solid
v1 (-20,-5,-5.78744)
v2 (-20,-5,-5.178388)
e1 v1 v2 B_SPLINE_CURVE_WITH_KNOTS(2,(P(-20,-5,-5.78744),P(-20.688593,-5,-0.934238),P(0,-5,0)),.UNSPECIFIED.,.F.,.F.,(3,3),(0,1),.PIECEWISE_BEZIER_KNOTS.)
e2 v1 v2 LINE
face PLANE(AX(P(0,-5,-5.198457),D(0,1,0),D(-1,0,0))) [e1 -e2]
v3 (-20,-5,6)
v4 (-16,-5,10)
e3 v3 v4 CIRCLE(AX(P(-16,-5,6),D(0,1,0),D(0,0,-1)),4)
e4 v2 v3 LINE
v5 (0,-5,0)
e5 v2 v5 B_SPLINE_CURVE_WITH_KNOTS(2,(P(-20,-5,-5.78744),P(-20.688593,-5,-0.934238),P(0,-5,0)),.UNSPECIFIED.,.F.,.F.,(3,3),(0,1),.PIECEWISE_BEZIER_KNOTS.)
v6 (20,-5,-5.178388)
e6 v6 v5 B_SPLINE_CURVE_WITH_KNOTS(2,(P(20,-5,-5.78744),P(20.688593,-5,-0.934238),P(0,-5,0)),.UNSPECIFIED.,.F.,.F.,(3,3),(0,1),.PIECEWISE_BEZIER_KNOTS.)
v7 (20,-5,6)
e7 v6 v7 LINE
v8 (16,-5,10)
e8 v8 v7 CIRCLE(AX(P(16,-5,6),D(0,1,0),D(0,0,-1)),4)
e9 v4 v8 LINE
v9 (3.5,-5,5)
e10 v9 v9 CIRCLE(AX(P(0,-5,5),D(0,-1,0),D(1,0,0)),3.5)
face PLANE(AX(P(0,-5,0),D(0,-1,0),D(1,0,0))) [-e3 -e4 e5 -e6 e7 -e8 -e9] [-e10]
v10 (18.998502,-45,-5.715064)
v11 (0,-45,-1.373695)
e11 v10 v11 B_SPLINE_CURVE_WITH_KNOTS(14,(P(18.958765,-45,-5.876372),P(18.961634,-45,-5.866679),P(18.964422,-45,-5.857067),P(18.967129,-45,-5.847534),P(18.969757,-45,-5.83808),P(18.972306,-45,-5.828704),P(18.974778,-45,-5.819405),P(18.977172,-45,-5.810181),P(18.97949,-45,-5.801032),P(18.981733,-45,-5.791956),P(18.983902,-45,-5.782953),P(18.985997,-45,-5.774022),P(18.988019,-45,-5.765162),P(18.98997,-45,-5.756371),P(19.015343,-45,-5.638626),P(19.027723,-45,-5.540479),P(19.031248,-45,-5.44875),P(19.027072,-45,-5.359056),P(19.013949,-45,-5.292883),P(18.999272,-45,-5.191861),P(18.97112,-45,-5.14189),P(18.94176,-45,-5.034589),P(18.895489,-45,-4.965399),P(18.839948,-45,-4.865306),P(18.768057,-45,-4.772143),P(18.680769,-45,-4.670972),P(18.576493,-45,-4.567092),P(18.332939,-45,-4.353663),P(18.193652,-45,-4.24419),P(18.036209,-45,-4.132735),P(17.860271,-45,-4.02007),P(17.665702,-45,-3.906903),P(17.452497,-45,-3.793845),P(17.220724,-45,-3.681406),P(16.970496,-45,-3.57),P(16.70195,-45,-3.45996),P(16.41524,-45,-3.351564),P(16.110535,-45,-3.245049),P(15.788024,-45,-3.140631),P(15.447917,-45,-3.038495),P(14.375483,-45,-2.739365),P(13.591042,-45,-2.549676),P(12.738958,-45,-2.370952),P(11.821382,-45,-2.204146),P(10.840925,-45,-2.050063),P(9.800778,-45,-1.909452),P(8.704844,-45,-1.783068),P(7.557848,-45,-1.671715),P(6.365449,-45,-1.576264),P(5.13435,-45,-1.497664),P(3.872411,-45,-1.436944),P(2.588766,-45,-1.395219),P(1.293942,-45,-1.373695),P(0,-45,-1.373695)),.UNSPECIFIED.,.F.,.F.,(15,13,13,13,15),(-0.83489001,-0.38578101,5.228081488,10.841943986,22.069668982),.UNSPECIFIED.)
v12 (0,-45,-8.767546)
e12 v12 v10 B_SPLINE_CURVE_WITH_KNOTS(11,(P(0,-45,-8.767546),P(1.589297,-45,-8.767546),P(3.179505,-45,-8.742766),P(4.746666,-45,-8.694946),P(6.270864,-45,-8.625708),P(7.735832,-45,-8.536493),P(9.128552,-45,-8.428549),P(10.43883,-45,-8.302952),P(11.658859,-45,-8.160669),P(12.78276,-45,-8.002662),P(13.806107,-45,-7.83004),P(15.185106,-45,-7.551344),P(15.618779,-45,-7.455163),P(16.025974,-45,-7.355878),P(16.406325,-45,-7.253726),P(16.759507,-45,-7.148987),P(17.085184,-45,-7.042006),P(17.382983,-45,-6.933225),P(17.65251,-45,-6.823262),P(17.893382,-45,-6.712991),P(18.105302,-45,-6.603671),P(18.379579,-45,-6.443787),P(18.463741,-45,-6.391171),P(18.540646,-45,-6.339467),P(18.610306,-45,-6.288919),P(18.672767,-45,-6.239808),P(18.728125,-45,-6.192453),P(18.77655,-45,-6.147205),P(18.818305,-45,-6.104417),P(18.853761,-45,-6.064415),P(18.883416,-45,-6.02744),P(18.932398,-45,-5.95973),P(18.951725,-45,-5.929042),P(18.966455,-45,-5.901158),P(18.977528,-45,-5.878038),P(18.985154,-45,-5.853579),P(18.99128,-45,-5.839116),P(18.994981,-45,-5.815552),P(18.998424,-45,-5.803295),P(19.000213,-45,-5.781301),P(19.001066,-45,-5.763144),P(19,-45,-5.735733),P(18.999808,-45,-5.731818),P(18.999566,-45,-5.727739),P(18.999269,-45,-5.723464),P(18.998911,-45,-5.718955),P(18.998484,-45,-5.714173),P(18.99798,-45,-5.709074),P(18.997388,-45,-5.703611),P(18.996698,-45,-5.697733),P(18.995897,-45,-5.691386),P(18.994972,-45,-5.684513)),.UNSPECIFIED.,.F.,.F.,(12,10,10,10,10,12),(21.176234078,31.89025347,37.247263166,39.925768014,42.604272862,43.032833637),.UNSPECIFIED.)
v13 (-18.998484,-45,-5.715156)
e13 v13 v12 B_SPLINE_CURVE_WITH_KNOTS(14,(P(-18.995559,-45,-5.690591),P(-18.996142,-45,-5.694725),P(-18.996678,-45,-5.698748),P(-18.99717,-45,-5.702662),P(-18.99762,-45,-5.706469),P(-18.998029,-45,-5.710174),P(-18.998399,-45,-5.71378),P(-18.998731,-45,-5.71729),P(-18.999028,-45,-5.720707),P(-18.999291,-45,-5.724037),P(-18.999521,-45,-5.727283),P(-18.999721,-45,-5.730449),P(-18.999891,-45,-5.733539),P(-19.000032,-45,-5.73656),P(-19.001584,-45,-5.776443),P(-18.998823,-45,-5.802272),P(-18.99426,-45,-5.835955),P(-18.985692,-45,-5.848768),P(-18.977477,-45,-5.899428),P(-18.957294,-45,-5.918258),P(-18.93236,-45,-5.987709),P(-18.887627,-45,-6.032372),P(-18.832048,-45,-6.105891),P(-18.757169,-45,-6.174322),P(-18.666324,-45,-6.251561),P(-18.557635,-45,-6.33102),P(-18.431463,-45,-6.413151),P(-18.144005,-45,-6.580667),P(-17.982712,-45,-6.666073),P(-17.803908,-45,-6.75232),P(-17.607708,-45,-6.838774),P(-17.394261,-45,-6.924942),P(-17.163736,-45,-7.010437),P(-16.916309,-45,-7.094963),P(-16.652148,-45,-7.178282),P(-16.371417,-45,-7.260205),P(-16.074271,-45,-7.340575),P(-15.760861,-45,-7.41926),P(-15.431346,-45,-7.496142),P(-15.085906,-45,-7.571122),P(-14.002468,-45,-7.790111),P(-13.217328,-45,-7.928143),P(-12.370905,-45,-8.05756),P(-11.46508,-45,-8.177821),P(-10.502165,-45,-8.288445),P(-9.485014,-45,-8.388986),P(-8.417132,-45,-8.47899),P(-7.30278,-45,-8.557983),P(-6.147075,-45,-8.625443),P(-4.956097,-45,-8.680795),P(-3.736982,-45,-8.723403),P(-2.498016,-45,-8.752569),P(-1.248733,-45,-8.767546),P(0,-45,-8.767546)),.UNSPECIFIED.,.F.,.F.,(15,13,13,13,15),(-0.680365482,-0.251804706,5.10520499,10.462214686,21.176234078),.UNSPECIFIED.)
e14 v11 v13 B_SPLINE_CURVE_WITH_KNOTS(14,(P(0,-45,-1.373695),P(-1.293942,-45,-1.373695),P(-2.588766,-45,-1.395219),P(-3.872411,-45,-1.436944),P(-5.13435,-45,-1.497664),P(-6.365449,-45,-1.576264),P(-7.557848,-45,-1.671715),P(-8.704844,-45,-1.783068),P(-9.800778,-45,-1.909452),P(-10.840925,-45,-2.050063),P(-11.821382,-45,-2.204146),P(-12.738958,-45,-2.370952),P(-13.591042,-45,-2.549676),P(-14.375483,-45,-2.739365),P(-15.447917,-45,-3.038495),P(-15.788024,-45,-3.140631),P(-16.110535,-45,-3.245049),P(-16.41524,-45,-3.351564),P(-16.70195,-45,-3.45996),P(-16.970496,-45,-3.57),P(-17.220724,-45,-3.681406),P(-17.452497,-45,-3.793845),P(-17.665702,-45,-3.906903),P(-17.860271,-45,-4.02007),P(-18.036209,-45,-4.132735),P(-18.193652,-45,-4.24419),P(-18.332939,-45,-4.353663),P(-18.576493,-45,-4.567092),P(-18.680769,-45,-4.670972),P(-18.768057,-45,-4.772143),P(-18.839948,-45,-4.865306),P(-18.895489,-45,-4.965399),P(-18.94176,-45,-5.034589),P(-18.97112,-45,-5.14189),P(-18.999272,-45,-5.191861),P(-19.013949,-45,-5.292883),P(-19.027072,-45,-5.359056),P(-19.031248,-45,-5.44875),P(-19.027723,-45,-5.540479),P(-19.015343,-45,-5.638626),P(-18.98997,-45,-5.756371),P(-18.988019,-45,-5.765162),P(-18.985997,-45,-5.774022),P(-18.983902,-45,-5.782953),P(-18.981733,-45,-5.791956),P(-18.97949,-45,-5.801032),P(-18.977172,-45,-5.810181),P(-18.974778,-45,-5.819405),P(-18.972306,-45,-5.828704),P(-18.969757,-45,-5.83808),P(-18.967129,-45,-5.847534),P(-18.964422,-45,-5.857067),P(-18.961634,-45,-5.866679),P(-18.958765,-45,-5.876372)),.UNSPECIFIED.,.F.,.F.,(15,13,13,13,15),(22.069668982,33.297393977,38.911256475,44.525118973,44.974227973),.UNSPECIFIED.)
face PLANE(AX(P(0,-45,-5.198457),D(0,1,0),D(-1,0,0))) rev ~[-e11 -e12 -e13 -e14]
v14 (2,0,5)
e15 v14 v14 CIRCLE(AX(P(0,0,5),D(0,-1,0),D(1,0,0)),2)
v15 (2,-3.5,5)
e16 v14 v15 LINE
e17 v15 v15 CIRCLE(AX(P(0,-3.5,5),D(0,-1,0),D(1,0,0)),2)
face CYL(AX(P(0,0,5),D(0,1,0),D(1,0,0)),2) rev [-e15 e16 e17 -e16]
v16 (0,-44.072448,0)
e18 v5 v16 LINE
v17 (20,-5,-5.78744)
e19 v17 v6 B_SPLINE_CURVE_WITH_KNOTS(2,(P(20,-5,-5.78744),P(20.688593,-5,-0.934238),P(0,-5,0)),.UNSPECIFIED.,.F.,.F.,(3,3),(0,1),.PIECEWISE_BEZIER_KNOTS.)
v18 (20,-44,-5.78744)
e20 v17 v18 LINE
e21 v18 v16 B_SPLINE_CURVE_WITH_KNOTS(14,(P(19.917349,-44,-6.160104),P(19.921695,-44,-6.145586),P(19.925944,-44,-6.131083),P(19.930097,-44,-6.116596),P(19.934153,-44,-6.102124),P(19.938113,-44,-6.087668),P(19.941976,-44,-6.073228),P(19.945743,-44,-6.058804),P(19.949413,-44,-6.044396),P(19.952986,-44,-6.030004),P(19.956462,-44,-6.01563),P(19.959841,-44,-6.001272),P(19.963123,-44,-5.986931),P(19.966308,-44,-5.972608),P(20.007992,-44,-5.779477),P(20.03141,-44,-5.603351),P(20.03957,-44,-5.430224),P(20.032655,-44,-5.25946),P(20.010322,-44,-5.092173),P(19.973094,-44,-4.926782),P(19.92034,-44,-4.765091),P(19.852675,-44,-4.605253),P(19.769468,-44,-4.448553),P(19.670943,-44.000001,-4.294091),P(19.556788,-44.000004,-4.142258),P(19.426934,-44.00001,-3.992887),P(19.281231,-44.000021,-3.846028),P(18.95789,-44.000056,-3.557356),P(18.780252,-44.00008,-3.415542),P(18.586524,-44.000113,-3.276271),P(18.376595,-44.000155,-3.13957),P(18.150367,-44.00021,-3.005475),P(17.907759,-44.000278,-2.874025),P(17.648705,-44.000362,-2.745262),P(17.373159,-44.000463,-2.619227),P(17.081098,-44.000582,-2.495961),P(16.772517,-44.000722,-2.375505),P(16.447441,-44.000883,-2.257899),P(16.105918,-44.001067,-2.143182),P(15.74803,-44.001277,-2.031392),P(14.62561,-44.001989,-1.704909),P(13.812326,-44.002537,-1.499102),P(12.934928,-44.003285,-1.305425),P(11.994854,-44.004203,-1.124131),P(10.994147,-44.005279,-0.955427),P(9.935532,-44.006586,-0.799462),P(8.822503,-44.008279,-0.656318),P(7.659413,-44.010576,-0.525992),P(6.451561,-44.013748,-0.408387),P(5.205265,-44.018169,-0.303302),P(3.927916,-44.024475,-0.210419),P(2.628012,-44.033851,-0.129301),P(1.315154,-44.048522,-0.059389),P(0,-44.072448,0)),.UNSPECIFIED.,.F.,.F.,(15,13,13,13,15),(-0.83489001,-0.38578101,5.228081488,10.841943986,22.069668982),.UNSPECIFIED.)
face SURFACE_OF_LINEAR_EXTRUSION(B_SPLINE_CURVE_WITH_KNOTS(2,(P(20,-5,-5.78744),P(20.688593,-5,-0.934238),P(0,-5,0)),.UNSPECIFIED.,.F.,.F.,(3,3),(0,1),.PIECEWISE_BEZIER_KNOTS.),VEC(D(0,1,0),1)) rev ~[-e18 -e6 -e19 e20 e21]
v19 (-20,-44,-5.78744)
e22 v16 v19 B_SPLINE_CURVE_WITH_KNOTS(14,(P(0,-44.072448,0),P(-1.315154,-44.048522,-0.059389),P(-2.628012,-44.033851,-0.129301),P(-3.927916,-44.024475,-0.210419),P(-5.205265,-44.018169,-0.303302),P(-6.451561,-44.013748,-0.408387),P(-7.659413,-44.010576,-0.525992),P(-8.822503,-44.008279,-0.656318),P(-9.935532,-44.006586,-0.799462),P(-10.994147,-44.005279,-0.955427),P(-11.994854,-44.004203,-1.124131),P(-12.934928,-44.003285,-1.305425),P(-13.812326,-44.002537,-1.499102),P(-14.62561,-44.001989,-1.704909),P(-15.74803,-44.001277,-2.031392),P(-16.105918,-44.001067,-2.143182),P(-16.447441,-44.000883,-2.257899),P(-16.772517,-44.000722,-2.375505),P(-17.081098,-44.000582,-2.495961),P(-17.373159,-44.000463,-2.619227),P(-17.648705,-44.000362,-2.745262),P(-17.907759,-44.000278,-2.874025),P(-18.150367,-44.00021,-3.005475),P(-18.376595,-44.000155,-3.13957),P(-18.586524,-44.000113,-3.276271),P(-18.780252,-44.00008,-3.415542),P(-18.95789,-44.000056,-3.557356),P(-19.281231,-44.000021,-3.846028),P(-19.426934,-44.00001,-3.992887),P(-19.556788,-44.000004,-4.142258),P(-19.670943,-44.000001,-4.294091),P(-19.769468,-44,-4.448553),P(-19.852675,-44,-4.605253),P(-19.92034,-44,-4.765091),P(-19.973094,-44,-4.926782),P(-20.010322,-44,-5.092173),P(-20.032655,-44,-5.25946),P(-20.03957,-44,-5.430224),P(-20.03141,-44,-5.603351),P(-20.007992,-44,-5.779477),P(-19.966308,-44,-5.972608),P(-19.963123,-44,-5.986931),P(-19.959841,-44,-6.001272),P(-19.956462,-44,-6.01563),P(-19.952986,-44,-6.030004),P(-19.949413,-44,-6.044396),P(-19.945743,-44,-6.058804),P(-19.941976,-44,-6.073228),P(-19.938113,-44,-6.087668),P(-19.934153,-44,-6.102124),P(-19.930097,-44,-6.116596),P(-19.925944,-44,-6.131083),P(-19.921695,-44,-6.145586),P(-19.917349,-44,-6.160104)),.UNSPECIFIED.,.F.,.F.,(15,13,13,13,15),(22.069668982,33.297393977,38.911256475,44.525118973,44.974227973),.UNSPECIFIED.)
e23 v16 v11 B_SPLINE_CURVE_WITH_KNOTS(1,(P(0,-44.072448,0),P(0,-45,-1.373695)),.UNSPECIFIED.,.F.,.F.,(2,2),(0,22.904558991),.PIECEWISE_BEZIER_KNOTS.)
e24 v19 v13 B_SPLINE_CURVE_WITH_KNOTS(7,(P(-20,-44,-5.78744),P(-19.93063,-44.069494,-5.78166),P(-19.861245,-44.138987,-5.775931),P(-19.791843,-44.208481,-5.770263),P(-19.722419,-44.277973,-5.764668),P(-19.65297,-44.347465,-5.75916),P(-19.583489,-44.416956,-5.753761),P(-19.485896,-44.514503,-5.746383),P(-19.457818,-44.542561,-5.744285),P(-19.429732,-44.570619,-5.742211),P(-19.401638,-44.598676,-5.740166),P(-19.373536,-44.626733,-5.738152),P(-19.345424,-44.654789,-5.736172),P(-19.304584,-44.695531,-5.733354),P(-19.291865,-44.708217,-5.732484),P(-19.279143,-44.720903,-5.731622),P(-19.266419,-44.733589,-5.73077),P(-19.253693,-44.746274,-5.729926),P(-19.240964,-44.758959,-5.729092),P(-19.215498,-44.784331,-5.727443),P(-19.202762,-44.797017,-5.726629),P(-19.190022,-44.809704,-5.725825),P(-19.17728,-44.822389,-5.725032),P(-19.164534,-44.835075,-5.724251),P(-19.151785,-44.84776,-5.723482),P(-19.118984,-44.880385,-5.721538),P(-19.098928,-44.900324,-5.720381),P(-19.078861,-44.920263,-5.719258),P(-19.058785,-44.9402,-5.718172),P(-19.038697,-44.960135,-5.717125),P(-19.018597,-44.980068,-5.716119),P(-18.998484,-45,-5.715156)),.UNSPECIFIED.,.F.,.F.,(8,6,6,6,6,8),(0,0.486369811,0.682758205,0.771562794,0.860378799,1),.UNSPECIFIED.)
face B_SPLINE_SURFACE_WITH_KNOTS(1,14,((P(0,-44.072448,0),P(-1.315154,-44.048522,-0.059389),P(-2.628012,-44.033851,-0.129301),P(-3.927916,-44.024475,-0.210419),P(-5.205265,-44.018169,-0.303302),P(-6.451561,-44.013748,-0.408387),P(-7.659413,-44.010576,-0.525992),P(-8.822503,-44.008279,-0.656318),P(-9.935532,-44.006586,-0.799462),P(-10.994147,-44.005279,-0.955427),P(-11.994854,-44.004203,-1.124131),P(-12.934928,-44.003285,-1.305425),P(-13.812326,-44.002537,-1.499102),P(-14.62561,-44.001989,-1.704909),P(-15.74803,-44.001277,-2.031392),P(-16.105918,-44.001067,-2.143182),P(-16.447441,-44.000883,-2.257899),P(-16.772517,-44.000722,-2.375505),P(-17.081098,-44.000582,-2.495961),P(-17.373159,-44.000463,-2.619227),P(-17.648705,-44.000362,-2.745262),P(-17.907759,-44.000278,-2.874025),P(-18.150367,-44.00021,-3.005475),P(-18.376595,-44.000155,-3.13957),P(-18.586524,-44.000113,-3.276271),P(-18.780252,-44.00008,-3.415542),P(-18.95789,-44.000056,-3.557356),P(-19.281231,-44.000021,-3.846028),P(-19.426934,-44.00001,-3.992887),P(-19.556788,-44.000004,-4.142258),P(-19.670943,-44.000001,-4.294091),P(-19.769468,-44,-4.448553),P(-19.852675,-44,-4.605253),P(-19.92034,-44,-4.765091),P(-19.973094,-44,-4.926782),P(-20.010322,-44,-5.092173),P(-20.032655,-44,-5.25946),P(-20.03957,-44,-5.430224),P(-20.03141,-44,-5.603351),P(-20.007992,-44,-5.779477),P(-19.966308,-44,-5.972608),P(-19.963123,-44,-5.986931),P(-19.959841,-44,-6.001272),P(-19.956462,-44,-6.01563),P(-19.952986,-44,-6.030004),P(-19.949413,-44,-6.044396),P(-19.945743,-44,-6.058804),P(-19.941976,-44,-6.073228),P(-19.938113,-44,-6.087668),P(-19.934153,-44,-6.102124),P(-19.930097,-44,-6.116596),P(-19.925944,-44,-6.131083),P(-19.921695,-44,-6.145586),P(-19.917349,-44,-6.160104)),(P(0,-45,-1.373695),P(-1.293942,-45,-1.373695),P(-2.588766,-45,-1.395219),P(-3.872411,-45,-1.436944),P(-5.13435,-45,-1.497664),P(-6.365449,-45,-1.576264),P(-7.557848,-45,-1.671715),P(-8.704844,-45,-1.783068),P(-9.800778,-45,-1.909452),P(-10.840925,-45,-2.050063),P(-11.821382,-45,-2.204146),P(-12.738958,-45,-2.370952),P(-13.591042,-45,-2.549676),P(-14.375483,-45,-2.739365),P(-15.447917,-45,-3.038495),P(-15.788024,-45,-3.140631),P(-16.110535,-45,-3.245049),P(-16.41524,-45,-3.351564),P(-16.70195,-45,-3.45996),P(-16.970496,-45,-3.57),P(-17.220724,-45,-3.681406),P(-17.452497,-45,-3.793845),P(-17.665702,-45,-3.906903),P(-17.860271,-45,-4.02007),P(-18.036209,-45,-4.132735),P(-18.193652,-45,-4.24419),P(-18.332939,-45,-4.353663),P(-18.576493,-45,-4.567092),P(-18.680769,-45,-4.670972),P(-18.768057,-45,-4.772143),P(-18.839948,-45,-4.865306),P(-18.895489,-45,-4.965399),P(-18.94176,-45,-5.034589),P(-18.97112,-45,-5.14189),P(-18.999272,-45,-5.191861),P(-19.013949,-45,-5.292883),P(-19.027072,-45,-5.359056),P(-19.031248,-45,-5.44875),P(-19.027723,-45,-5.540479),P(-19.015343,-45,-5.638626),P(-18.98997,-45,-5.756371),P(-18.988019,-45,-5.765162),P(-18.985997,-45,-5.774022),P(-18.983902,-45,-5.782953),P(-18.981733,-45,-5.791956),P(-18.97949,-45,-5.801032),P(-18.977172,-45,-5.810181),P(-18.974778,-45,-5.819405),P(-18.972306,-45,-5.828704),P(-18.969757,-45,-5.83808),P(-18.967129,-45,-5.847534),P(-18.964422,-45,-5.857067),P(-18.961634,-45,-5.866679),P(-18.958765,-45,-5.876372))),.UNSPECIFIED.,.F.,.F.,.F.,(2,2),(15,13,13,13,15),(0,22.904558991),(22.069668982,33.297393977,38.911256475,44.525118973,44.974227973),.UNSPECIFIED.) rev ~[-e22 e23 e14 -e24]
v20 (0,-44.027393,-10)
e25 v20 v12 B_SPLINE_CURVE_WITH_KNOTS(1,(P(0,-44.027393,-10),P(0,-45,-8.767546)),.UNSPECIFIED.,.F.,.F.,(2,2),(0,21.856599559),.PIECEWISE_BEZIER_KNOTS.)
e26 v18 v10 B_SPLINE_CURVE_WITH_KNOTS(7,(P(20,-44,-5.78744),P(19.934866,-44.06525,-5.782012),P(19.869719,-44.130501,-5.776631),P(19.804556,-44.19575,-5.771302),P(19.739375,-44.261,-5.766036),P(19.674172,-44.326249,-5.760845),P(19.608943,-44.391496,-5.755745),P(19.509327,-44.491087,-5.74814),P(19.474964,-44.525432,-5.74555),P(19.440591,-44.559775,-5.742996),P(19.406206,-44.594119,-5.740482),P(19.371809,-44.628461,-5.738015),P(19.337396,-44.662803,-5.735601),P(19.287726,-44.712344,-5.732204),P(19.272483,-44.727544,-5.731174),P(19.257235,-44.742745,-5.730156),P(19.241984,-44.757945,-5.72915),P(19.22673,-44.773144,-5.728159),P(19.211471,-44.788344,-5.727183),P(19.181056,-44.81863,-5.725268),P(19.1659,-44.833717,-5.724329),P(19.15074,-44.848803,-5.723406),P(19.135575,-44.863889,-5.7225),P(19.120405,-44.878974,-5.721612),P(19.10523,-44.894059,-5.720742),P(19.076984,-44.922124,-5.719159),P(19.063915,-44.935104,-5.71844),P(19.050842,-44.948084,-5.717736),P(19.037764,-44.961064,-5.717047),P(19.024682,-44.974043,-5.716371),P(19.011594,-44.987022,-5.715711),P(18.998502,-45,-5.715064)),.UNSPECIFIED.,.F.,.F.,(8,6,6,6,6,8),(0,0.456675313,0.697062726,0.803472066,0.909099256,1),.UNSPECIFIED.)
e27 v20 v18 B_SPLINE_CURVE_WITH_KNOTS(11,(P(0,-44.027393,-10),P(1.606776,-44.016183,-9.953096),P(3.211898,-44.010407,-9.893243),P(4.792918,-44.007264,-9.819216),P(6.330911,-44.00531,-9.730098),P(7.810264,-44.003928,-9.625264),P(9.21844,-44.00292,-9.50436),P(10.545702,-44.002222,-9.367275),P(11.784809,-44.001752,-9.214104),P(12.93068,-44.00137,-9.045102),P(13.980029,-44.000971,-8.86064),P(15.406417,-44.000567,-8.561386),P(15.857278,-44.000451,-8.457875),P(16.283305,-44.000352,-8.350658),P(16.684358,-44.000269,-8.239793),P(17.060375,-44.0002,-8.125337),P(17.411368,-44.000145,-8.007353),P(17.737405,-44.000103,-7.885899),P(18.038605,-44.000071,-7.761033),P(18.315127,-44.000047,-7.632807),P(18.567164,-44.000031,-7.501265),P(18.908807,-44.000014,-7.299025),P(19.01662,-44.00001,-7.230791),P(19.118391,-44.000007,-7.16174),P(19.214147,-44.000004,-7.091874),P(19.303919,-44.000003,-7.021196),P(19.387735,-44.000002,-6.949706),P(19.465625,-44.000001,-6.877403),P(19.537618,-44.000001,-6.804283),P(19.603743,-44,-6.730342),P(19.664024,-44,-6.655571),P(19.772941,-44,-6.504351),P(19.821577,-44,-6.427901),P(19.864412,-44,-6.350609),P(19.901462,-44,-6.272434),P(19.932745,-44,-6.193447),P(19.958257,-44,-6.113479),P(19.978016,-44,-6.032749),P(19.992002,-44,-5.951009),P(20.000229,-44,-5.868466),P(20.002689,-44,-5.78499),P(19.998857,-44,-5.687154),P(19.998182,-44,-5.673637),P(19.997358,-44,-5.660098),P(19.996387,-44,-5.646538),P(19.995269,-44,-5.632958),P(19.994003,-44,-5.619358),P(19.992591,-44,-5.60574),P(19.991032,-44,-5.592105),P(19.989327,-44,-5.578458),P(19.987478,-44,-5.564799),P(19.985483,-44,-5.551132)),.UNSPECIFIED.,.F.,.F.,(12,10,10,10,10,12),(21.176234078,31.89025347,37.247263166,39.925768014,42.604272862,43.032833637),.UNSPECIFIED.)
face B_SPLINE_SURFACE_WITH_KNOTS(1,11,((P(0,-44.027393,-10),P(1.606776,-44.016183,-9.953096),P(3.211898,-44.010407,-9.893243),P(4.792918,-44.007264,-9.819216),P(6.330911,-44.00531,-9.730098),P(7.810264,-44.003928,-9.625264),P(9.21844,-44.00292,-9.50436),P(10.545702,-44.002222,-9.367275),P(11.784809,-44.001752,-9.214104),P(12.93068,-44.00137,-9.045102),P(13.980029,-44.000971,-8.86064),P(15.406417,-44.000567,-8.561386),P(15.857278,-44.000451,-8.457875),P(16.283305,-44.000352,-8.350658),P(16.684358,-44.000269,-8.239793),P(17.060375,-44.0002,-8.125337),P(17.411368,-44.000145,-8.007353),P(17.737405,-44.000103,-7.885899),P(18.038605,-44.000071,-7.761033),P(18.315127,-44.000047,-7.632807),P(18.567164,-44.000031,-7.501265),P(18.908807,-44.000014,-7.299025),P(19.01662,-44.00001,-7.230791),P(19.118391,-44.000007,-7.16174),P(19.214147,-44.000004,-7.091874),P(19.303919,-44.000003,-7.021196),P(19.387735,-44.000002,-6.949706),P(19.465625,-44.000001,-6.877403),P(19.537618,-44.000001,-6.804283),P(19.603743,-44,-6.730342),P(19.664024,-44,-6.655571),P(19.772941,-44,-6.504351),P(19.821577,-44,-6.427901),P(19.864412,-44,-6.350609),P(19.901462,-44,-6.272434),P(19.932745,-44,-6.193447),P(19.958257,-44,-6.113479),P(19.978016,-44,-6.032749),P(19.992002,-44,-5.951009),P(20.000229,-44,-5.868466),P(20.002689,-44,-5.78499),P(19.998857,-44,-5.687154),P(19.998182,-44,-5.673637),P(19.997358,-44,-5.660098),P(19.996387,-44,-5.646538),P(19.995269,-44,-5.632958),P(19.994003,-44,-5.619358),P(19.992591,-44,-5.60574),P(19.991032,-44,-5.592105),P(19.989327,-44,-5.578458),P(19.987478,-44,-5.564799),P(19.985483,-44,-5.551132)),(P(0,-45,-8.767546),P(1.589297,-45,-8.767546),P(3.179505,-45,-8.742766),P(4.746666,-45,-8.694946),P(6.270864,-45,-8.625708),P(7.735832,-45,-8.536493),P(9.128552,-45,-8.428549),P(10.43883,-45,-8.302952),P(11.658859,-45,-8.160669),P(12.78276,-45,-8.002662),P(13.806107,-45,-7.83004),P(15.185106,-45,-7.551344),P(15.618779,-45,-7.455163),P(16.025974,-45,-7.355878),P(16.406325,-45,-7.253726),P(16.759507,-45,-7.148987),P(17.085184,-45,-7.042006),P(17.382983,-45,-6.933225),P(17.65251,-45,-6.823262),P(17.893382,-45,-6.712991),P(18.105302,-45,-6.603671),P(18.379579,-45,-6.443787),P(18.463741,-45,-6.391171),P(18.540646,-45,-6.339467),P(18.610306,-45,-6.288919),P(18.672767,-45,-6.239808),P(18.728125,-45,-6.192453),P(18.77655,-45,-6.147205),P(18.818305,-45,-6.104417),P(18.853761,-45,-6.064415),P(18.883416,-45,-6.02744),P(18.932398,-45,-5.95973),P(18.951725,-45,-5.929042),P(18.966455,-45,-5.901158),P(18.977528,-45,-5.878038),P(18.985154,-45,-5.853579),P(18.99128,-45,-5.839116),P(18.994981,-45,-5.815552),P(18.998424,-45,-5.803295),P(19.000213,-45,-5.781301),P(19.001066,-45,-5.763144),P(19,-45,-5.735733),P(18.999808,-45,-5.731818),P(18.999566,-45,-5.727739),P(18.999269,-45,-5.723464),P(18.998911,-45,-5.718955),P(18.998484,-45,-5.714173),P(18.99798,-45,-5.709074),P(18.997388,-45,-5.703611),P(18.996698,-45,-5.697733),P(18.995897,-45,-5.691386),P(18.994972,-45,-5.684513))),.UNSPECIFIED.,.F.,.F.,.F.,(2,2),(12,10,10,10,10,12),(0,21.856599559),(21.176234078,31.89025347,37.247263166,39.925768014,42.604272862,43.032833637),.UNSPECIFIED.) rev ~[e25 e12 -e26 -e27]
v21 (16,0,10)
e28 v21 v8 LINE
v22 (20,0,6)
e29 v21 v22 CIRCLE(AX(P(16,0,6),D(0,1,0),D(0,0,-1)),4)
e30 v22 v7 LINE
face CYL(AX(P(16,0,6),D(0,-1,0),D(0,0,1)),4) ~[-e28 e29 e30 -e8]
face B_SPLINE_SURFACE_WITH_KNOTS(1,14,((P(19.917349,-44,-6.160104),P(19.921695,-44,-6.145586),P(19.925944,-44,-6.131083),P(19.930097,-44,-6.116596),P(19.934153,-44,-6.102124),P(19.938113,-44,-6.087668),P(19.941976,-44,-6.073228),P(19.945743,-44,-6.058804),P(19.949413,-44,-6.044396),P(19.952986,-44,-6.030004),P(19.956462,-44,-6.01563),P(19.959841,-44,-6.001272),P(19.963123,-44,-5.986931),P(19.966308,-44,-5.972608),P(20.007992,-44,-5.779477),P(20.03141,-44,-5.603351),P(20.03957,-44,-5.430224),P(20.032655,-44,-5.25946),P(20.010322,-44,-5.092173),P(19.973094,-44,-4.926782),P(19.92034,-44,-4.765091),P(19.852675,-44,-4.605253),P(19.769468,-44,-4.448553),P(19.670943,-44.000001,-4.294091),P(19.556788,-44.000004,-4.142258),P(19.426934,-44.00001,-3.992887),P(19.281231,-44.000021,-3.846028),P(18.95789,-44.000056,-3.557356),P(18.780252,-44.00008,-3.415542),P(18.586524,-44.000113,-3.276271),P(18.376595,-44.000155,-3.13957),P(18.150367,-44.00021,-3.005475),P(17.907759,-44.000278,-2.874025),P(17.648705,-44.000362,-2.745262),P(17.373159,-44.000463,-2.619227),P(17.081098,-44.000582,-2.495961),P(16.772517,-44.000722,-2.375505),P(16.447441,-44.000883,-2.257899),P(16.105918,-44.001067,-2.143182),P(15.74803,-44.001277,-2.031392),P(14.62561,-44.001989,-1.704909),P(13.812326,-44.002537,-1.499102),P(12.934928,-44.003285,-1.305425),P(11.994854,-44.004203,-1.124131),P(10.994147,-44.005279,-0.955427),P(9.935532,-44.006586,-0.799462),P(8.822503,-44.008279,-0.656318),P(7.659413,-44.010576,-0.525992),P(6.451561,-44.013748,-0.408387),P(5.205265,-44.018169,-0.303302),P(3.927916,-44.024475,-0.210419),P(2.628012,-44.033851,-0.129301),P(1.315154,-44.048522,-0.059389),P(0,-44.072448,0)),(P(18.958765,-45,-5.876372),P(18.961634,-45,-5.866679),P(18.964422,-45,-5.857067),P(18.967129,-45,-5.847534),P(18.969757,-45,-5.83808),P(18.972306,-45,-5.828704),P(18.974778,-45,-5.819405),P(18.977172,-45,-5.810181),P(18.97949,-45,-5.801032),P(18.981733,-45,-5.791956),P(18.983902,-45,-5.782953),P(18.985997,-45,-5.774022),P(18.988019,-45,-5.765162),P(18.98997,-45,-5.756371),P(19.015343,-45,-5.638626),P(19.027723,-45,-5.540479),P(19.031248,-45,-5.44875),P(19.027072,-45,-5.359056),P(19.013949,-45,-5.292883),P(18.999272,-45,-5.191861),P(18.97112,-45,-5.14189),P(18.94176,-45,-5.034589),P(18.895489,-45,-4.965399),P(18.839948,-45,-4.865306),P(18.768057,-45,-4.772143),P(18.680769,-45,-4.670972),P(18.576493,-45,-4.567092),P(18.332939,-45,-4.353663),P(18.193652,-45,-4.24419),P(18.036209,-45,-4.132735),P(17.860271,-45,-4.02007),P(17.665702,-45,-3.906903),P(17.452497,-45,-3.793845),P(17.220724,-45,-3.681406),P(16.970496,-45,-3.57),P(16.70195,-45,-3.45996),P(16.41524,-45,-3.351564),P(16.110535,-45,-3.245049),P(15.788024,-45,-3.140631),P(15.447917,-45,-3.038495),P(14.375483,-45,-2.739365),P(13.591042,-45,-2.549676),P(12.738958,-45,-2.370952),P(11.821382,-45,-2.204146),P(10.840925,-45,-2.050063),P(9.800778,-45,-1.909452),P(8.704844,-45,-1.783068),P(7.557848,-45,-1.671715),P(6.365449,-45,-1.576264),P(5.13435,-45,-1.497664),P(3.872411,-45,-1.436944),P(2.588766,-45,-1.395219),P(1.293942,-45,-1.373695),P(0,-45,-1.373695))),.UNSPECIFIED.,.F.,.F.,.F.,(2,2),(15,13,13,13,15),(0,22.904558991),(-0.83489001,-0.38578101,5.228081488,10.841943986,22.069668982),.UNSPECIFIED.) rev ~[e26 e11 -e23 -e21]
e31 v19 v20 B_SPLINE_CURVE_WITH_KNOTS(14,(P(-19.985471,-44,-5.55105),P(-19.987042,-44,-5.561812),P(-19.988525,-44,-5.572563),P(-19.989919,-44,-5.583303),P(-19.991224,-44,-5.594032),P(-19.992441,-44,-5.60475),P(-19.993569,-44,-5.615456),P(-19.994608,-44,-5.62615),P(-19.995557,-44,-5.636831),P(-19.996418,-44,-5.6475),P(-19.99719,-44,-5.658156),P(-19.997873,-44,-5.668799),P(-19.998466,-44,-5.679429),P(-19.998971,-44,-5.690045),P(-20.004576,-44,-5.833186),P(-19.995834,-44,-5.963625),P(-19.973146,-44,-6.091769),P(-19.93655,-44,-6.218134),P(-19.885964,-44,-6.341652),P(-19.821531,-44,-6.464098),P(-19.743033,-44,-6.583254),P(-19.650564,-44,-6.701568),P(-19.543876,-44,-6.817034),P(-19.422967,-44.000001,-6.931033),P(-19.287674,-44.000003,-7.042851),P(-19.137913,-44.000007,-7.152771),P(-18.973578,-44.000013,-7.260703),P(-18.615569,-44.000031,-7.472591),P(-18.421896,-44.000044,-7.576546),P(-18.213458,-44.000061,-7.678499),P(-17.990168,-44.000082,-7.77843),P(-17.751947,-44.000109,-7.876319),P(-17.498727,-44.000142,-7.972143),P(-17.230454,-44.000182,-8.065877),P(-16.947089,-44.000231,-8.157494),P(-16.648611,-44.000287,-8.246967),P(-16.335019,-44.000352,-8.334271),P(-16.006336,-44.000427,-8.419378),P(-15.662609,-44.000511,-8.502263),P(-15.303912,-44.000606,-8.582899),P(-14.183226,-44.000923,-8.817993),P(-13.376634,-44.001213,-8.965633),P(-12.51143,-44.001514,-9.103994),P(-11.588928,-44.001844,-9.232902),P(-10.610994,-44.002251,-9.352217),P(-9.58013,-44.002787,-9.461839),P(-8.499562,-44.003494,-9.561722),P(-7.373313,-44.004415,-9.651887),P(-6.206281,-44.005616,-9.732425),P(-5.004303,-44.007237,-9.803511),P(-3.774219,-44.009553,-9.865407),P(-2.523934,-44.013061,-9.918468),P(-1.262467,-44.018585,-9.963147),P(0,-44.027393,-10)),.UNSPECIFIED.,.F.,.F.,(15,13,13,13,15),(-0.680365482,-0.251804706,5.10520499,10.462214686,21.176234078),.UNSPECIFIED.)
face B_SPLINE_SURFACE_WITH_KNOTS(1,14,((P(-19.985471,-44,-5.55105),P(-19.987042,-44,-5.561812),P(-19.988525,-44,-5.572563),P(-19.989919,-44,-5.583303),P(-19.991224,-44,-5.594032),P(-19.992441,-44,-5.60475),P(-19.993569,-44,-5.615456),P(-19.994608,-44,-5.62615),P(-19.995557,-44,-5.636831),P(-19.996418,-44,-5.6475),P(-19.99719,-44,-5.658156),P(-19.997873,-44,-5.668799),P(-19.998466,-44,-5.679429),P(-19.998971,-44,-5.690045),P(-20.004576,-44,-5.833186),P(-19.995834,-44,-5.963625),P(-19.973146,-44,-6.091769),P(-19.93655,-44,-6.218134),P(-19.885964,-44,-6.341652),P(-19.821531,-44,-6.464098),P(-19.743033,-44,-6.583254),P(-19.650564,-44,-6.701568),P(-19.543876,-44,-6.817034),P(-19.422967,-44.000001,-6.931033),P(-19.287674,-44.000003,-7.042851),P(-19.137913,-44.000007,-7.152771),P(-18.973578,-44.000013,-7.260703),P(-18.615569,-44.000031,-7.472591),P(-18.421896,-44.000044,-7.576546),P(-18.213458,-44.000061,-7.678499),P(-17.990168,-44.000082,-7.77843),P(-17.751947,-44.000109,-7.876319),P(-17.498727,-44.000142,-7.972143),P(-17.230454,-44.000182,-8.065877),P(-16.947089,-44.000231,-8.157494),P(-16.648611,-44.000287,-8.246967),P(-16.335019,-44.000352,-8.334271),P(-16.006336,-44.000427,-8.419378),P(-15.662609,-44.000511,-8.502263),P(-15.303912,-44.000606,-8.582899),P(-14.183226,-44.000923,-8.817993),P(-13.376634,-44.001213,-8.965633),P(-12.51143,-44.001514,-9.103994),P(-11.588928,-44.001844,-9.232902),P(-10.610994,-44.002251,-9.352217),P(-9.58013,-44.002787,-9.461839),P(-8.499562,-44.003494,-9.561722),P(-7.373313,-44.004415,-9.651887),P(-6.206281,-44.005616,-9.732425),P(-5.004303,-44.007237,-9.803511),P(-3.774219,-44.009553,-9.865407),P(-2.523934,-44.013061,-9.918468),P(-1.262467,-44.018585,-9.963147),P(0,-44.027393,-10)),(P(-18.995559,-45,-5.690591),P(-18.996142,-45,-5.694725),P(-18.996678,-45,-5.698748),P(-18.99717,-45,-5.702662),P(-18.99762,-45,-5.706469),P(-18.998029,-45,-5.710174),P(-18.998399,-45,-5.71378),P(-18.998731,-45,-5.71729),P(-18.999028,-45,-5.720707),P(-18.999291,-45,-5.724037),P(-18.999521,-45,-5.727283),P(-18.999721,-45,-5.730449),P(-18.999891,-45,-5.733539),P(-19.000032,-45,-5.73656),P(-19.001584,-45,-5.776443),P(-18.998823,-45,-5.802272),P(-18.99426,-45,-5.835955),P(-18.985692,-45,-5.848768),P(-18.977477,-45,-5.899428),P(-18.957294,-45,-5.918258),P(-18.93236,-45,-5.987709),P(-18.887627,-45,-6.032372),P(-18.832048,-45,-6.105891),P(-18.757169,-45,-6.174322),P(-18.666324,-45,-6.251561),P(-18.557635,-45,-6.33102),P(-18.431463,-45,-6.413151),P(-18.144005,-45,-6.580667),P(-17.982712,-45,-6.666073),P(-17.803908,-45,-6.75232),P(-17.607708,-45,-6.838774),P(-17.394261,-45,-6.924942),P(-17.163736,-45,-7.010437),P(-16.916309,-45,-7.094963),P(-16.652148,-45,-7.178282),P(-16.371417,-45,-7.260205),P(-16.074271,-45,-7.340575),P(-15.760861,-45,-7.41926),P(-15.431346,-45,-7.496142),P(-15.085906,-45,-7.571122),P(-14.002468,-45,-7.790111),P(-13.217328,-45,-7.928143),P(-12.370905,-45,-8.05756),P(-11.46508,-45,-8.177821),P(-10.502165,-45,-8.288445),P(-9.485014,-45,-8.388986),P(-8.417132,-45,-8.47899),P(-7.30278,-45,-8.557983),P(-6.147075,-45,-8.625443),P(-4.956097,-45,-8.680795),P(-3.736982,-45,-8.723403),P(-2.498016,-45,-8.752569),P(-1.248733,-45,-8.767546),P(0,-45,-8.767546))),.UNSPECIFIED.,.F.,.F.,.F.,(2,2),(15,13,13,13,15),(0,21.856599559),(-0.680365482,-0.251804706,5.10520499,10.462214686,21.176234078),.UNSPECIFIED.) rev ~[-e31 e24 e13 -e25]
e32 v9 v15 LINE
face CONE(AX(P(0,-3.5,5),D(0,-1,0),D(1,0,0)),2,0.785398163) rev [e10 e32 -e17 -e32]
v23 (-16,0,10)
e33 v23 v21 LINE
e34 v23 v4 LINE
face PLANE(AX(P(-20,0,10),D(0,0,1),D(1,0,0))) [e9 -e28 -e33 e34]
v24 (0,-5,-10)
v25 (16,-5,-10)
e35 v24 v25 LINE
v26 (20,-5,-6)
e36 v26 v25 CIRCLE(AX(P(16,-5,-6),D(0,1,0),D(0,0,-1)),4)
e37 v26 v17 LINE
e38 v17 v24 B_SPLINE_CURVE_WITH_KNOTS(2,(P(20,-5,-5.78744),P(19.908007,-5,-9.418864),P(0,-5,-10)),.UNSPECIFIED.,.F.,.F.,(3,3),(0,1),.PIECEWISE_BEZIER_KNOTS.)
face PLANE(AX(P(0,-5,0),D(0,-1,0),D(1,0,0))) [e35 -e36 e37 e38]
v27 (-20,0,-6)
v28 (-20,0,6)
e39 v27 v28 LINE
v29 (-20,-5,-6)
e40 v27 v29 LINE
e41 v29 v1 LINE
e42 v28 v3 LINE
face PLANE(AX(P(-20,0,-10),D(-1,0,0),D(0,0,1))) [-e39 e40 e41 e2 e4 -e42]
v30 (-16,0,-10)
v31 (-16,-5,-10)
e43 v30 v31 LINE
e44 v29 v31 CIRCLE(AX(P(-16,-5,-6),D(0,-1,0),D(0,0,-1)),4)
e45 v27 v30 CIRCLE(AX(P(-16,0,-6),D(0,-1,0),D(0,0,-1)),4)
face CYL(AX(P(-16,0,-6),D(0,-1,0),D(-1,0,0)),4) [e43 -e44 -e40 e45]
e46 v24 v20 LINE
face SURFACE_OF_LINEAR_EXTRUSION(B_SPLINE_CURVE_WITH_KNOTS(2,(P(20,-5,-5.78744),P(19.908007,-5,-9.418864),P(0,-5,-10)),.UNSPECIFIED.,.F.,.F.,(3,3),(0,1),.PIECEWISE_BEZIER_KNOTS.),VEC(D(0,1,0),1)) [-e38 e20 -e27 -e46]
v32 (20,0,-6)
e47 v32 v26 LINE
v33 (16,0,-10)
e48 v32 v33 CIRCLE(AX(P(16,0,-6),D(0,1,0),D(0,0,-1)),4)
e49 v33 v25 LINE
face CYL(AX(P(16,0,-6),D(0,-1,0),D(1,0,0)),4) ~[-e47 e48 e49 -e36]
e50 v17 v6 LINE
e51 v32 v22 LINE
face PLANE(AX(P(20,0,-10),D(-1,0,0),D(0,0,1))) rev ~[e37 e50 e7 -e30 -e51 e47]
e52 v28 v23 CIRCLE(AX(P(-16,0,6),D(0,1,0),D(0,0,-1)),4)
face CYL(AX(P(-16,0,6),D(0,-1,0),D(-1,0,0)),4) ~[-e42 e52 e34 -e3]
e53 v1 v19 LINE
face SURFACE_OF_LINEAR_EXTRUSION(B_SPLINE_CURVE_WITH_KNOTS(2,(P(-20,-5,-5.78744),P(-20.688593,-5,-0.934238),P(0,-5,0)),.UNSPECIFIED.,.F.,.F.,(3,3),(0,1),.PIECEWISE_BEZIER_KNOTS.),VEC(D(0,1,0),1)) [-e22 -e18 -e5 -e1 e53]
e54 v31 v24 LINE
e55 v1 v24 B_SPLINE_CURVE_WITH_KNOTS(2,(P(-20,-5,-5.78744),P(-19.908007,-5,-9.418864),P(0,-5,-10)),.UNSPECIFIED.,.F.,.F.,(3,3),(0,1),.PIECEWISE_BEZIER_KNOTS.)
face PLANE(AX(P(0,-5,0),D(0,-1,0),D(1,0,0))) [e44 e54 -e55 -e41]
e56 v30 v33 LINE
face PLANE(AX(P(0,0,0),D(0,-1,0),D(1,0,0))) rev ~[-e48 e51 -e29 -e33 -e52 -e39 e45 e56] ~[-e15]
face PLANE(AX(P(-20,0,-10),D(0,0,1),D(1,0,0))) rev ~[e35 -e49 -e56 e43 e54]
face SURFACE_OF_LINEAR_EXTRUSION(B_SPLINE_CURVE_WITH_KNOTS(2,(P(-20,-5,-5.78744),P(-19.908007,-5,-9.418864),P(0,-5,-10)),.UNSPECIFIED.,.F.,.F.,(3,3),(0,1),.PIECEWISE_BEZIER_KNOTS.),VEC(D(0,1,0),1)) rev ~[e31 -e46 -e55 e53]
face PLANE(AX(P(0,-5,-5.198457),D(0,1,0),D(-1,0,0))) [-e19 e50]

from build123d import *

# Parameters (mm, degrees)
SKETCH_W        = 40
SKETCH_H        = 20
SKETCH_R        = 2
PAD_DEPTH       = 5
PAD001_DEPTH    = 40
FILLET_R        = 4
CHAMFER_SIZE    = 1
CHAMFER001_SIZE = 1.5


with BuildPart() as part:
    # Sketch → Pad (new body)
    with BuildSketch(Plane.XZ):
        Rectangle(SKETCH_W, SKETCH_H)
        with Locations((0, 5)):
            Circle(SKETCH_R, mode=Mode.SUBTRACT)
    extrude(amount=PAD_DEPTH)

    # Sketch001 (on Face7 of Pad) → Pad001 (join)
    with BuildSketch(Plane.XZ.offset(5)):
        with BuildLine():
            add(Edge.make_bspline(
                [(-20, -5.78744), (-20.688593, -0.934238), (0, 0)],
                knots=[0, 0, 0, 1, 1, 1], degree=2))
            add(Edge.make_bspline(
                [(20, -5.78744), (20.688593, -0.934238), (0, 0)],
                knots=[0, 0, 0, 1, 1, 1], degree=2))
            add(Edge.make_bspline(
                [(20, -5.78744), (19.908007, -9.418864), (0, -10)],
                knots=[0, 0, 0, 1, 1, 1], degree=2))
            add(Edge.make_bspline(
                [(-20, -5.78744), (-19.908007, -9.418864), (0, -10)],
                knots=[0, 0, 0, 1, 1, 1], degree=2))
        make_face()
    extrude(amount=PAD001_DEPTH)

    # Fillet
    fillet_edges = [part.edges().sort_by_distance(p)[0] for p in [
        (20, -2.5, 10),
        (20, -2.5, -10),
        (-20, -2.5, 10),
        (-20, -2.5, -10),
    ]]
    fillet(fillet_edges, radius=FILLET_R)

    # Chamfer
    chamfer_edges = [part.edges().sort_by_distance(p)[0] for p in [
        (10.984514, -45, -0.988644),
        (-10.984514, -45, -0.988644),
        (-10.562912, -45, -9.332673),
        (10.562912, -45, -9.332673),
    ]]
    chamfer(chamfer_edges, length=CHAMFER_SIZE)

    # Chamfer001
    chamfer001_edges = [part.edges().sort_by_distance(p)[0] for p in [
        (-2, -5, 5),
    ]]
    chamfer(chamfer001_edges, length=CHAMFER001_SIZE)


solid = part.part
